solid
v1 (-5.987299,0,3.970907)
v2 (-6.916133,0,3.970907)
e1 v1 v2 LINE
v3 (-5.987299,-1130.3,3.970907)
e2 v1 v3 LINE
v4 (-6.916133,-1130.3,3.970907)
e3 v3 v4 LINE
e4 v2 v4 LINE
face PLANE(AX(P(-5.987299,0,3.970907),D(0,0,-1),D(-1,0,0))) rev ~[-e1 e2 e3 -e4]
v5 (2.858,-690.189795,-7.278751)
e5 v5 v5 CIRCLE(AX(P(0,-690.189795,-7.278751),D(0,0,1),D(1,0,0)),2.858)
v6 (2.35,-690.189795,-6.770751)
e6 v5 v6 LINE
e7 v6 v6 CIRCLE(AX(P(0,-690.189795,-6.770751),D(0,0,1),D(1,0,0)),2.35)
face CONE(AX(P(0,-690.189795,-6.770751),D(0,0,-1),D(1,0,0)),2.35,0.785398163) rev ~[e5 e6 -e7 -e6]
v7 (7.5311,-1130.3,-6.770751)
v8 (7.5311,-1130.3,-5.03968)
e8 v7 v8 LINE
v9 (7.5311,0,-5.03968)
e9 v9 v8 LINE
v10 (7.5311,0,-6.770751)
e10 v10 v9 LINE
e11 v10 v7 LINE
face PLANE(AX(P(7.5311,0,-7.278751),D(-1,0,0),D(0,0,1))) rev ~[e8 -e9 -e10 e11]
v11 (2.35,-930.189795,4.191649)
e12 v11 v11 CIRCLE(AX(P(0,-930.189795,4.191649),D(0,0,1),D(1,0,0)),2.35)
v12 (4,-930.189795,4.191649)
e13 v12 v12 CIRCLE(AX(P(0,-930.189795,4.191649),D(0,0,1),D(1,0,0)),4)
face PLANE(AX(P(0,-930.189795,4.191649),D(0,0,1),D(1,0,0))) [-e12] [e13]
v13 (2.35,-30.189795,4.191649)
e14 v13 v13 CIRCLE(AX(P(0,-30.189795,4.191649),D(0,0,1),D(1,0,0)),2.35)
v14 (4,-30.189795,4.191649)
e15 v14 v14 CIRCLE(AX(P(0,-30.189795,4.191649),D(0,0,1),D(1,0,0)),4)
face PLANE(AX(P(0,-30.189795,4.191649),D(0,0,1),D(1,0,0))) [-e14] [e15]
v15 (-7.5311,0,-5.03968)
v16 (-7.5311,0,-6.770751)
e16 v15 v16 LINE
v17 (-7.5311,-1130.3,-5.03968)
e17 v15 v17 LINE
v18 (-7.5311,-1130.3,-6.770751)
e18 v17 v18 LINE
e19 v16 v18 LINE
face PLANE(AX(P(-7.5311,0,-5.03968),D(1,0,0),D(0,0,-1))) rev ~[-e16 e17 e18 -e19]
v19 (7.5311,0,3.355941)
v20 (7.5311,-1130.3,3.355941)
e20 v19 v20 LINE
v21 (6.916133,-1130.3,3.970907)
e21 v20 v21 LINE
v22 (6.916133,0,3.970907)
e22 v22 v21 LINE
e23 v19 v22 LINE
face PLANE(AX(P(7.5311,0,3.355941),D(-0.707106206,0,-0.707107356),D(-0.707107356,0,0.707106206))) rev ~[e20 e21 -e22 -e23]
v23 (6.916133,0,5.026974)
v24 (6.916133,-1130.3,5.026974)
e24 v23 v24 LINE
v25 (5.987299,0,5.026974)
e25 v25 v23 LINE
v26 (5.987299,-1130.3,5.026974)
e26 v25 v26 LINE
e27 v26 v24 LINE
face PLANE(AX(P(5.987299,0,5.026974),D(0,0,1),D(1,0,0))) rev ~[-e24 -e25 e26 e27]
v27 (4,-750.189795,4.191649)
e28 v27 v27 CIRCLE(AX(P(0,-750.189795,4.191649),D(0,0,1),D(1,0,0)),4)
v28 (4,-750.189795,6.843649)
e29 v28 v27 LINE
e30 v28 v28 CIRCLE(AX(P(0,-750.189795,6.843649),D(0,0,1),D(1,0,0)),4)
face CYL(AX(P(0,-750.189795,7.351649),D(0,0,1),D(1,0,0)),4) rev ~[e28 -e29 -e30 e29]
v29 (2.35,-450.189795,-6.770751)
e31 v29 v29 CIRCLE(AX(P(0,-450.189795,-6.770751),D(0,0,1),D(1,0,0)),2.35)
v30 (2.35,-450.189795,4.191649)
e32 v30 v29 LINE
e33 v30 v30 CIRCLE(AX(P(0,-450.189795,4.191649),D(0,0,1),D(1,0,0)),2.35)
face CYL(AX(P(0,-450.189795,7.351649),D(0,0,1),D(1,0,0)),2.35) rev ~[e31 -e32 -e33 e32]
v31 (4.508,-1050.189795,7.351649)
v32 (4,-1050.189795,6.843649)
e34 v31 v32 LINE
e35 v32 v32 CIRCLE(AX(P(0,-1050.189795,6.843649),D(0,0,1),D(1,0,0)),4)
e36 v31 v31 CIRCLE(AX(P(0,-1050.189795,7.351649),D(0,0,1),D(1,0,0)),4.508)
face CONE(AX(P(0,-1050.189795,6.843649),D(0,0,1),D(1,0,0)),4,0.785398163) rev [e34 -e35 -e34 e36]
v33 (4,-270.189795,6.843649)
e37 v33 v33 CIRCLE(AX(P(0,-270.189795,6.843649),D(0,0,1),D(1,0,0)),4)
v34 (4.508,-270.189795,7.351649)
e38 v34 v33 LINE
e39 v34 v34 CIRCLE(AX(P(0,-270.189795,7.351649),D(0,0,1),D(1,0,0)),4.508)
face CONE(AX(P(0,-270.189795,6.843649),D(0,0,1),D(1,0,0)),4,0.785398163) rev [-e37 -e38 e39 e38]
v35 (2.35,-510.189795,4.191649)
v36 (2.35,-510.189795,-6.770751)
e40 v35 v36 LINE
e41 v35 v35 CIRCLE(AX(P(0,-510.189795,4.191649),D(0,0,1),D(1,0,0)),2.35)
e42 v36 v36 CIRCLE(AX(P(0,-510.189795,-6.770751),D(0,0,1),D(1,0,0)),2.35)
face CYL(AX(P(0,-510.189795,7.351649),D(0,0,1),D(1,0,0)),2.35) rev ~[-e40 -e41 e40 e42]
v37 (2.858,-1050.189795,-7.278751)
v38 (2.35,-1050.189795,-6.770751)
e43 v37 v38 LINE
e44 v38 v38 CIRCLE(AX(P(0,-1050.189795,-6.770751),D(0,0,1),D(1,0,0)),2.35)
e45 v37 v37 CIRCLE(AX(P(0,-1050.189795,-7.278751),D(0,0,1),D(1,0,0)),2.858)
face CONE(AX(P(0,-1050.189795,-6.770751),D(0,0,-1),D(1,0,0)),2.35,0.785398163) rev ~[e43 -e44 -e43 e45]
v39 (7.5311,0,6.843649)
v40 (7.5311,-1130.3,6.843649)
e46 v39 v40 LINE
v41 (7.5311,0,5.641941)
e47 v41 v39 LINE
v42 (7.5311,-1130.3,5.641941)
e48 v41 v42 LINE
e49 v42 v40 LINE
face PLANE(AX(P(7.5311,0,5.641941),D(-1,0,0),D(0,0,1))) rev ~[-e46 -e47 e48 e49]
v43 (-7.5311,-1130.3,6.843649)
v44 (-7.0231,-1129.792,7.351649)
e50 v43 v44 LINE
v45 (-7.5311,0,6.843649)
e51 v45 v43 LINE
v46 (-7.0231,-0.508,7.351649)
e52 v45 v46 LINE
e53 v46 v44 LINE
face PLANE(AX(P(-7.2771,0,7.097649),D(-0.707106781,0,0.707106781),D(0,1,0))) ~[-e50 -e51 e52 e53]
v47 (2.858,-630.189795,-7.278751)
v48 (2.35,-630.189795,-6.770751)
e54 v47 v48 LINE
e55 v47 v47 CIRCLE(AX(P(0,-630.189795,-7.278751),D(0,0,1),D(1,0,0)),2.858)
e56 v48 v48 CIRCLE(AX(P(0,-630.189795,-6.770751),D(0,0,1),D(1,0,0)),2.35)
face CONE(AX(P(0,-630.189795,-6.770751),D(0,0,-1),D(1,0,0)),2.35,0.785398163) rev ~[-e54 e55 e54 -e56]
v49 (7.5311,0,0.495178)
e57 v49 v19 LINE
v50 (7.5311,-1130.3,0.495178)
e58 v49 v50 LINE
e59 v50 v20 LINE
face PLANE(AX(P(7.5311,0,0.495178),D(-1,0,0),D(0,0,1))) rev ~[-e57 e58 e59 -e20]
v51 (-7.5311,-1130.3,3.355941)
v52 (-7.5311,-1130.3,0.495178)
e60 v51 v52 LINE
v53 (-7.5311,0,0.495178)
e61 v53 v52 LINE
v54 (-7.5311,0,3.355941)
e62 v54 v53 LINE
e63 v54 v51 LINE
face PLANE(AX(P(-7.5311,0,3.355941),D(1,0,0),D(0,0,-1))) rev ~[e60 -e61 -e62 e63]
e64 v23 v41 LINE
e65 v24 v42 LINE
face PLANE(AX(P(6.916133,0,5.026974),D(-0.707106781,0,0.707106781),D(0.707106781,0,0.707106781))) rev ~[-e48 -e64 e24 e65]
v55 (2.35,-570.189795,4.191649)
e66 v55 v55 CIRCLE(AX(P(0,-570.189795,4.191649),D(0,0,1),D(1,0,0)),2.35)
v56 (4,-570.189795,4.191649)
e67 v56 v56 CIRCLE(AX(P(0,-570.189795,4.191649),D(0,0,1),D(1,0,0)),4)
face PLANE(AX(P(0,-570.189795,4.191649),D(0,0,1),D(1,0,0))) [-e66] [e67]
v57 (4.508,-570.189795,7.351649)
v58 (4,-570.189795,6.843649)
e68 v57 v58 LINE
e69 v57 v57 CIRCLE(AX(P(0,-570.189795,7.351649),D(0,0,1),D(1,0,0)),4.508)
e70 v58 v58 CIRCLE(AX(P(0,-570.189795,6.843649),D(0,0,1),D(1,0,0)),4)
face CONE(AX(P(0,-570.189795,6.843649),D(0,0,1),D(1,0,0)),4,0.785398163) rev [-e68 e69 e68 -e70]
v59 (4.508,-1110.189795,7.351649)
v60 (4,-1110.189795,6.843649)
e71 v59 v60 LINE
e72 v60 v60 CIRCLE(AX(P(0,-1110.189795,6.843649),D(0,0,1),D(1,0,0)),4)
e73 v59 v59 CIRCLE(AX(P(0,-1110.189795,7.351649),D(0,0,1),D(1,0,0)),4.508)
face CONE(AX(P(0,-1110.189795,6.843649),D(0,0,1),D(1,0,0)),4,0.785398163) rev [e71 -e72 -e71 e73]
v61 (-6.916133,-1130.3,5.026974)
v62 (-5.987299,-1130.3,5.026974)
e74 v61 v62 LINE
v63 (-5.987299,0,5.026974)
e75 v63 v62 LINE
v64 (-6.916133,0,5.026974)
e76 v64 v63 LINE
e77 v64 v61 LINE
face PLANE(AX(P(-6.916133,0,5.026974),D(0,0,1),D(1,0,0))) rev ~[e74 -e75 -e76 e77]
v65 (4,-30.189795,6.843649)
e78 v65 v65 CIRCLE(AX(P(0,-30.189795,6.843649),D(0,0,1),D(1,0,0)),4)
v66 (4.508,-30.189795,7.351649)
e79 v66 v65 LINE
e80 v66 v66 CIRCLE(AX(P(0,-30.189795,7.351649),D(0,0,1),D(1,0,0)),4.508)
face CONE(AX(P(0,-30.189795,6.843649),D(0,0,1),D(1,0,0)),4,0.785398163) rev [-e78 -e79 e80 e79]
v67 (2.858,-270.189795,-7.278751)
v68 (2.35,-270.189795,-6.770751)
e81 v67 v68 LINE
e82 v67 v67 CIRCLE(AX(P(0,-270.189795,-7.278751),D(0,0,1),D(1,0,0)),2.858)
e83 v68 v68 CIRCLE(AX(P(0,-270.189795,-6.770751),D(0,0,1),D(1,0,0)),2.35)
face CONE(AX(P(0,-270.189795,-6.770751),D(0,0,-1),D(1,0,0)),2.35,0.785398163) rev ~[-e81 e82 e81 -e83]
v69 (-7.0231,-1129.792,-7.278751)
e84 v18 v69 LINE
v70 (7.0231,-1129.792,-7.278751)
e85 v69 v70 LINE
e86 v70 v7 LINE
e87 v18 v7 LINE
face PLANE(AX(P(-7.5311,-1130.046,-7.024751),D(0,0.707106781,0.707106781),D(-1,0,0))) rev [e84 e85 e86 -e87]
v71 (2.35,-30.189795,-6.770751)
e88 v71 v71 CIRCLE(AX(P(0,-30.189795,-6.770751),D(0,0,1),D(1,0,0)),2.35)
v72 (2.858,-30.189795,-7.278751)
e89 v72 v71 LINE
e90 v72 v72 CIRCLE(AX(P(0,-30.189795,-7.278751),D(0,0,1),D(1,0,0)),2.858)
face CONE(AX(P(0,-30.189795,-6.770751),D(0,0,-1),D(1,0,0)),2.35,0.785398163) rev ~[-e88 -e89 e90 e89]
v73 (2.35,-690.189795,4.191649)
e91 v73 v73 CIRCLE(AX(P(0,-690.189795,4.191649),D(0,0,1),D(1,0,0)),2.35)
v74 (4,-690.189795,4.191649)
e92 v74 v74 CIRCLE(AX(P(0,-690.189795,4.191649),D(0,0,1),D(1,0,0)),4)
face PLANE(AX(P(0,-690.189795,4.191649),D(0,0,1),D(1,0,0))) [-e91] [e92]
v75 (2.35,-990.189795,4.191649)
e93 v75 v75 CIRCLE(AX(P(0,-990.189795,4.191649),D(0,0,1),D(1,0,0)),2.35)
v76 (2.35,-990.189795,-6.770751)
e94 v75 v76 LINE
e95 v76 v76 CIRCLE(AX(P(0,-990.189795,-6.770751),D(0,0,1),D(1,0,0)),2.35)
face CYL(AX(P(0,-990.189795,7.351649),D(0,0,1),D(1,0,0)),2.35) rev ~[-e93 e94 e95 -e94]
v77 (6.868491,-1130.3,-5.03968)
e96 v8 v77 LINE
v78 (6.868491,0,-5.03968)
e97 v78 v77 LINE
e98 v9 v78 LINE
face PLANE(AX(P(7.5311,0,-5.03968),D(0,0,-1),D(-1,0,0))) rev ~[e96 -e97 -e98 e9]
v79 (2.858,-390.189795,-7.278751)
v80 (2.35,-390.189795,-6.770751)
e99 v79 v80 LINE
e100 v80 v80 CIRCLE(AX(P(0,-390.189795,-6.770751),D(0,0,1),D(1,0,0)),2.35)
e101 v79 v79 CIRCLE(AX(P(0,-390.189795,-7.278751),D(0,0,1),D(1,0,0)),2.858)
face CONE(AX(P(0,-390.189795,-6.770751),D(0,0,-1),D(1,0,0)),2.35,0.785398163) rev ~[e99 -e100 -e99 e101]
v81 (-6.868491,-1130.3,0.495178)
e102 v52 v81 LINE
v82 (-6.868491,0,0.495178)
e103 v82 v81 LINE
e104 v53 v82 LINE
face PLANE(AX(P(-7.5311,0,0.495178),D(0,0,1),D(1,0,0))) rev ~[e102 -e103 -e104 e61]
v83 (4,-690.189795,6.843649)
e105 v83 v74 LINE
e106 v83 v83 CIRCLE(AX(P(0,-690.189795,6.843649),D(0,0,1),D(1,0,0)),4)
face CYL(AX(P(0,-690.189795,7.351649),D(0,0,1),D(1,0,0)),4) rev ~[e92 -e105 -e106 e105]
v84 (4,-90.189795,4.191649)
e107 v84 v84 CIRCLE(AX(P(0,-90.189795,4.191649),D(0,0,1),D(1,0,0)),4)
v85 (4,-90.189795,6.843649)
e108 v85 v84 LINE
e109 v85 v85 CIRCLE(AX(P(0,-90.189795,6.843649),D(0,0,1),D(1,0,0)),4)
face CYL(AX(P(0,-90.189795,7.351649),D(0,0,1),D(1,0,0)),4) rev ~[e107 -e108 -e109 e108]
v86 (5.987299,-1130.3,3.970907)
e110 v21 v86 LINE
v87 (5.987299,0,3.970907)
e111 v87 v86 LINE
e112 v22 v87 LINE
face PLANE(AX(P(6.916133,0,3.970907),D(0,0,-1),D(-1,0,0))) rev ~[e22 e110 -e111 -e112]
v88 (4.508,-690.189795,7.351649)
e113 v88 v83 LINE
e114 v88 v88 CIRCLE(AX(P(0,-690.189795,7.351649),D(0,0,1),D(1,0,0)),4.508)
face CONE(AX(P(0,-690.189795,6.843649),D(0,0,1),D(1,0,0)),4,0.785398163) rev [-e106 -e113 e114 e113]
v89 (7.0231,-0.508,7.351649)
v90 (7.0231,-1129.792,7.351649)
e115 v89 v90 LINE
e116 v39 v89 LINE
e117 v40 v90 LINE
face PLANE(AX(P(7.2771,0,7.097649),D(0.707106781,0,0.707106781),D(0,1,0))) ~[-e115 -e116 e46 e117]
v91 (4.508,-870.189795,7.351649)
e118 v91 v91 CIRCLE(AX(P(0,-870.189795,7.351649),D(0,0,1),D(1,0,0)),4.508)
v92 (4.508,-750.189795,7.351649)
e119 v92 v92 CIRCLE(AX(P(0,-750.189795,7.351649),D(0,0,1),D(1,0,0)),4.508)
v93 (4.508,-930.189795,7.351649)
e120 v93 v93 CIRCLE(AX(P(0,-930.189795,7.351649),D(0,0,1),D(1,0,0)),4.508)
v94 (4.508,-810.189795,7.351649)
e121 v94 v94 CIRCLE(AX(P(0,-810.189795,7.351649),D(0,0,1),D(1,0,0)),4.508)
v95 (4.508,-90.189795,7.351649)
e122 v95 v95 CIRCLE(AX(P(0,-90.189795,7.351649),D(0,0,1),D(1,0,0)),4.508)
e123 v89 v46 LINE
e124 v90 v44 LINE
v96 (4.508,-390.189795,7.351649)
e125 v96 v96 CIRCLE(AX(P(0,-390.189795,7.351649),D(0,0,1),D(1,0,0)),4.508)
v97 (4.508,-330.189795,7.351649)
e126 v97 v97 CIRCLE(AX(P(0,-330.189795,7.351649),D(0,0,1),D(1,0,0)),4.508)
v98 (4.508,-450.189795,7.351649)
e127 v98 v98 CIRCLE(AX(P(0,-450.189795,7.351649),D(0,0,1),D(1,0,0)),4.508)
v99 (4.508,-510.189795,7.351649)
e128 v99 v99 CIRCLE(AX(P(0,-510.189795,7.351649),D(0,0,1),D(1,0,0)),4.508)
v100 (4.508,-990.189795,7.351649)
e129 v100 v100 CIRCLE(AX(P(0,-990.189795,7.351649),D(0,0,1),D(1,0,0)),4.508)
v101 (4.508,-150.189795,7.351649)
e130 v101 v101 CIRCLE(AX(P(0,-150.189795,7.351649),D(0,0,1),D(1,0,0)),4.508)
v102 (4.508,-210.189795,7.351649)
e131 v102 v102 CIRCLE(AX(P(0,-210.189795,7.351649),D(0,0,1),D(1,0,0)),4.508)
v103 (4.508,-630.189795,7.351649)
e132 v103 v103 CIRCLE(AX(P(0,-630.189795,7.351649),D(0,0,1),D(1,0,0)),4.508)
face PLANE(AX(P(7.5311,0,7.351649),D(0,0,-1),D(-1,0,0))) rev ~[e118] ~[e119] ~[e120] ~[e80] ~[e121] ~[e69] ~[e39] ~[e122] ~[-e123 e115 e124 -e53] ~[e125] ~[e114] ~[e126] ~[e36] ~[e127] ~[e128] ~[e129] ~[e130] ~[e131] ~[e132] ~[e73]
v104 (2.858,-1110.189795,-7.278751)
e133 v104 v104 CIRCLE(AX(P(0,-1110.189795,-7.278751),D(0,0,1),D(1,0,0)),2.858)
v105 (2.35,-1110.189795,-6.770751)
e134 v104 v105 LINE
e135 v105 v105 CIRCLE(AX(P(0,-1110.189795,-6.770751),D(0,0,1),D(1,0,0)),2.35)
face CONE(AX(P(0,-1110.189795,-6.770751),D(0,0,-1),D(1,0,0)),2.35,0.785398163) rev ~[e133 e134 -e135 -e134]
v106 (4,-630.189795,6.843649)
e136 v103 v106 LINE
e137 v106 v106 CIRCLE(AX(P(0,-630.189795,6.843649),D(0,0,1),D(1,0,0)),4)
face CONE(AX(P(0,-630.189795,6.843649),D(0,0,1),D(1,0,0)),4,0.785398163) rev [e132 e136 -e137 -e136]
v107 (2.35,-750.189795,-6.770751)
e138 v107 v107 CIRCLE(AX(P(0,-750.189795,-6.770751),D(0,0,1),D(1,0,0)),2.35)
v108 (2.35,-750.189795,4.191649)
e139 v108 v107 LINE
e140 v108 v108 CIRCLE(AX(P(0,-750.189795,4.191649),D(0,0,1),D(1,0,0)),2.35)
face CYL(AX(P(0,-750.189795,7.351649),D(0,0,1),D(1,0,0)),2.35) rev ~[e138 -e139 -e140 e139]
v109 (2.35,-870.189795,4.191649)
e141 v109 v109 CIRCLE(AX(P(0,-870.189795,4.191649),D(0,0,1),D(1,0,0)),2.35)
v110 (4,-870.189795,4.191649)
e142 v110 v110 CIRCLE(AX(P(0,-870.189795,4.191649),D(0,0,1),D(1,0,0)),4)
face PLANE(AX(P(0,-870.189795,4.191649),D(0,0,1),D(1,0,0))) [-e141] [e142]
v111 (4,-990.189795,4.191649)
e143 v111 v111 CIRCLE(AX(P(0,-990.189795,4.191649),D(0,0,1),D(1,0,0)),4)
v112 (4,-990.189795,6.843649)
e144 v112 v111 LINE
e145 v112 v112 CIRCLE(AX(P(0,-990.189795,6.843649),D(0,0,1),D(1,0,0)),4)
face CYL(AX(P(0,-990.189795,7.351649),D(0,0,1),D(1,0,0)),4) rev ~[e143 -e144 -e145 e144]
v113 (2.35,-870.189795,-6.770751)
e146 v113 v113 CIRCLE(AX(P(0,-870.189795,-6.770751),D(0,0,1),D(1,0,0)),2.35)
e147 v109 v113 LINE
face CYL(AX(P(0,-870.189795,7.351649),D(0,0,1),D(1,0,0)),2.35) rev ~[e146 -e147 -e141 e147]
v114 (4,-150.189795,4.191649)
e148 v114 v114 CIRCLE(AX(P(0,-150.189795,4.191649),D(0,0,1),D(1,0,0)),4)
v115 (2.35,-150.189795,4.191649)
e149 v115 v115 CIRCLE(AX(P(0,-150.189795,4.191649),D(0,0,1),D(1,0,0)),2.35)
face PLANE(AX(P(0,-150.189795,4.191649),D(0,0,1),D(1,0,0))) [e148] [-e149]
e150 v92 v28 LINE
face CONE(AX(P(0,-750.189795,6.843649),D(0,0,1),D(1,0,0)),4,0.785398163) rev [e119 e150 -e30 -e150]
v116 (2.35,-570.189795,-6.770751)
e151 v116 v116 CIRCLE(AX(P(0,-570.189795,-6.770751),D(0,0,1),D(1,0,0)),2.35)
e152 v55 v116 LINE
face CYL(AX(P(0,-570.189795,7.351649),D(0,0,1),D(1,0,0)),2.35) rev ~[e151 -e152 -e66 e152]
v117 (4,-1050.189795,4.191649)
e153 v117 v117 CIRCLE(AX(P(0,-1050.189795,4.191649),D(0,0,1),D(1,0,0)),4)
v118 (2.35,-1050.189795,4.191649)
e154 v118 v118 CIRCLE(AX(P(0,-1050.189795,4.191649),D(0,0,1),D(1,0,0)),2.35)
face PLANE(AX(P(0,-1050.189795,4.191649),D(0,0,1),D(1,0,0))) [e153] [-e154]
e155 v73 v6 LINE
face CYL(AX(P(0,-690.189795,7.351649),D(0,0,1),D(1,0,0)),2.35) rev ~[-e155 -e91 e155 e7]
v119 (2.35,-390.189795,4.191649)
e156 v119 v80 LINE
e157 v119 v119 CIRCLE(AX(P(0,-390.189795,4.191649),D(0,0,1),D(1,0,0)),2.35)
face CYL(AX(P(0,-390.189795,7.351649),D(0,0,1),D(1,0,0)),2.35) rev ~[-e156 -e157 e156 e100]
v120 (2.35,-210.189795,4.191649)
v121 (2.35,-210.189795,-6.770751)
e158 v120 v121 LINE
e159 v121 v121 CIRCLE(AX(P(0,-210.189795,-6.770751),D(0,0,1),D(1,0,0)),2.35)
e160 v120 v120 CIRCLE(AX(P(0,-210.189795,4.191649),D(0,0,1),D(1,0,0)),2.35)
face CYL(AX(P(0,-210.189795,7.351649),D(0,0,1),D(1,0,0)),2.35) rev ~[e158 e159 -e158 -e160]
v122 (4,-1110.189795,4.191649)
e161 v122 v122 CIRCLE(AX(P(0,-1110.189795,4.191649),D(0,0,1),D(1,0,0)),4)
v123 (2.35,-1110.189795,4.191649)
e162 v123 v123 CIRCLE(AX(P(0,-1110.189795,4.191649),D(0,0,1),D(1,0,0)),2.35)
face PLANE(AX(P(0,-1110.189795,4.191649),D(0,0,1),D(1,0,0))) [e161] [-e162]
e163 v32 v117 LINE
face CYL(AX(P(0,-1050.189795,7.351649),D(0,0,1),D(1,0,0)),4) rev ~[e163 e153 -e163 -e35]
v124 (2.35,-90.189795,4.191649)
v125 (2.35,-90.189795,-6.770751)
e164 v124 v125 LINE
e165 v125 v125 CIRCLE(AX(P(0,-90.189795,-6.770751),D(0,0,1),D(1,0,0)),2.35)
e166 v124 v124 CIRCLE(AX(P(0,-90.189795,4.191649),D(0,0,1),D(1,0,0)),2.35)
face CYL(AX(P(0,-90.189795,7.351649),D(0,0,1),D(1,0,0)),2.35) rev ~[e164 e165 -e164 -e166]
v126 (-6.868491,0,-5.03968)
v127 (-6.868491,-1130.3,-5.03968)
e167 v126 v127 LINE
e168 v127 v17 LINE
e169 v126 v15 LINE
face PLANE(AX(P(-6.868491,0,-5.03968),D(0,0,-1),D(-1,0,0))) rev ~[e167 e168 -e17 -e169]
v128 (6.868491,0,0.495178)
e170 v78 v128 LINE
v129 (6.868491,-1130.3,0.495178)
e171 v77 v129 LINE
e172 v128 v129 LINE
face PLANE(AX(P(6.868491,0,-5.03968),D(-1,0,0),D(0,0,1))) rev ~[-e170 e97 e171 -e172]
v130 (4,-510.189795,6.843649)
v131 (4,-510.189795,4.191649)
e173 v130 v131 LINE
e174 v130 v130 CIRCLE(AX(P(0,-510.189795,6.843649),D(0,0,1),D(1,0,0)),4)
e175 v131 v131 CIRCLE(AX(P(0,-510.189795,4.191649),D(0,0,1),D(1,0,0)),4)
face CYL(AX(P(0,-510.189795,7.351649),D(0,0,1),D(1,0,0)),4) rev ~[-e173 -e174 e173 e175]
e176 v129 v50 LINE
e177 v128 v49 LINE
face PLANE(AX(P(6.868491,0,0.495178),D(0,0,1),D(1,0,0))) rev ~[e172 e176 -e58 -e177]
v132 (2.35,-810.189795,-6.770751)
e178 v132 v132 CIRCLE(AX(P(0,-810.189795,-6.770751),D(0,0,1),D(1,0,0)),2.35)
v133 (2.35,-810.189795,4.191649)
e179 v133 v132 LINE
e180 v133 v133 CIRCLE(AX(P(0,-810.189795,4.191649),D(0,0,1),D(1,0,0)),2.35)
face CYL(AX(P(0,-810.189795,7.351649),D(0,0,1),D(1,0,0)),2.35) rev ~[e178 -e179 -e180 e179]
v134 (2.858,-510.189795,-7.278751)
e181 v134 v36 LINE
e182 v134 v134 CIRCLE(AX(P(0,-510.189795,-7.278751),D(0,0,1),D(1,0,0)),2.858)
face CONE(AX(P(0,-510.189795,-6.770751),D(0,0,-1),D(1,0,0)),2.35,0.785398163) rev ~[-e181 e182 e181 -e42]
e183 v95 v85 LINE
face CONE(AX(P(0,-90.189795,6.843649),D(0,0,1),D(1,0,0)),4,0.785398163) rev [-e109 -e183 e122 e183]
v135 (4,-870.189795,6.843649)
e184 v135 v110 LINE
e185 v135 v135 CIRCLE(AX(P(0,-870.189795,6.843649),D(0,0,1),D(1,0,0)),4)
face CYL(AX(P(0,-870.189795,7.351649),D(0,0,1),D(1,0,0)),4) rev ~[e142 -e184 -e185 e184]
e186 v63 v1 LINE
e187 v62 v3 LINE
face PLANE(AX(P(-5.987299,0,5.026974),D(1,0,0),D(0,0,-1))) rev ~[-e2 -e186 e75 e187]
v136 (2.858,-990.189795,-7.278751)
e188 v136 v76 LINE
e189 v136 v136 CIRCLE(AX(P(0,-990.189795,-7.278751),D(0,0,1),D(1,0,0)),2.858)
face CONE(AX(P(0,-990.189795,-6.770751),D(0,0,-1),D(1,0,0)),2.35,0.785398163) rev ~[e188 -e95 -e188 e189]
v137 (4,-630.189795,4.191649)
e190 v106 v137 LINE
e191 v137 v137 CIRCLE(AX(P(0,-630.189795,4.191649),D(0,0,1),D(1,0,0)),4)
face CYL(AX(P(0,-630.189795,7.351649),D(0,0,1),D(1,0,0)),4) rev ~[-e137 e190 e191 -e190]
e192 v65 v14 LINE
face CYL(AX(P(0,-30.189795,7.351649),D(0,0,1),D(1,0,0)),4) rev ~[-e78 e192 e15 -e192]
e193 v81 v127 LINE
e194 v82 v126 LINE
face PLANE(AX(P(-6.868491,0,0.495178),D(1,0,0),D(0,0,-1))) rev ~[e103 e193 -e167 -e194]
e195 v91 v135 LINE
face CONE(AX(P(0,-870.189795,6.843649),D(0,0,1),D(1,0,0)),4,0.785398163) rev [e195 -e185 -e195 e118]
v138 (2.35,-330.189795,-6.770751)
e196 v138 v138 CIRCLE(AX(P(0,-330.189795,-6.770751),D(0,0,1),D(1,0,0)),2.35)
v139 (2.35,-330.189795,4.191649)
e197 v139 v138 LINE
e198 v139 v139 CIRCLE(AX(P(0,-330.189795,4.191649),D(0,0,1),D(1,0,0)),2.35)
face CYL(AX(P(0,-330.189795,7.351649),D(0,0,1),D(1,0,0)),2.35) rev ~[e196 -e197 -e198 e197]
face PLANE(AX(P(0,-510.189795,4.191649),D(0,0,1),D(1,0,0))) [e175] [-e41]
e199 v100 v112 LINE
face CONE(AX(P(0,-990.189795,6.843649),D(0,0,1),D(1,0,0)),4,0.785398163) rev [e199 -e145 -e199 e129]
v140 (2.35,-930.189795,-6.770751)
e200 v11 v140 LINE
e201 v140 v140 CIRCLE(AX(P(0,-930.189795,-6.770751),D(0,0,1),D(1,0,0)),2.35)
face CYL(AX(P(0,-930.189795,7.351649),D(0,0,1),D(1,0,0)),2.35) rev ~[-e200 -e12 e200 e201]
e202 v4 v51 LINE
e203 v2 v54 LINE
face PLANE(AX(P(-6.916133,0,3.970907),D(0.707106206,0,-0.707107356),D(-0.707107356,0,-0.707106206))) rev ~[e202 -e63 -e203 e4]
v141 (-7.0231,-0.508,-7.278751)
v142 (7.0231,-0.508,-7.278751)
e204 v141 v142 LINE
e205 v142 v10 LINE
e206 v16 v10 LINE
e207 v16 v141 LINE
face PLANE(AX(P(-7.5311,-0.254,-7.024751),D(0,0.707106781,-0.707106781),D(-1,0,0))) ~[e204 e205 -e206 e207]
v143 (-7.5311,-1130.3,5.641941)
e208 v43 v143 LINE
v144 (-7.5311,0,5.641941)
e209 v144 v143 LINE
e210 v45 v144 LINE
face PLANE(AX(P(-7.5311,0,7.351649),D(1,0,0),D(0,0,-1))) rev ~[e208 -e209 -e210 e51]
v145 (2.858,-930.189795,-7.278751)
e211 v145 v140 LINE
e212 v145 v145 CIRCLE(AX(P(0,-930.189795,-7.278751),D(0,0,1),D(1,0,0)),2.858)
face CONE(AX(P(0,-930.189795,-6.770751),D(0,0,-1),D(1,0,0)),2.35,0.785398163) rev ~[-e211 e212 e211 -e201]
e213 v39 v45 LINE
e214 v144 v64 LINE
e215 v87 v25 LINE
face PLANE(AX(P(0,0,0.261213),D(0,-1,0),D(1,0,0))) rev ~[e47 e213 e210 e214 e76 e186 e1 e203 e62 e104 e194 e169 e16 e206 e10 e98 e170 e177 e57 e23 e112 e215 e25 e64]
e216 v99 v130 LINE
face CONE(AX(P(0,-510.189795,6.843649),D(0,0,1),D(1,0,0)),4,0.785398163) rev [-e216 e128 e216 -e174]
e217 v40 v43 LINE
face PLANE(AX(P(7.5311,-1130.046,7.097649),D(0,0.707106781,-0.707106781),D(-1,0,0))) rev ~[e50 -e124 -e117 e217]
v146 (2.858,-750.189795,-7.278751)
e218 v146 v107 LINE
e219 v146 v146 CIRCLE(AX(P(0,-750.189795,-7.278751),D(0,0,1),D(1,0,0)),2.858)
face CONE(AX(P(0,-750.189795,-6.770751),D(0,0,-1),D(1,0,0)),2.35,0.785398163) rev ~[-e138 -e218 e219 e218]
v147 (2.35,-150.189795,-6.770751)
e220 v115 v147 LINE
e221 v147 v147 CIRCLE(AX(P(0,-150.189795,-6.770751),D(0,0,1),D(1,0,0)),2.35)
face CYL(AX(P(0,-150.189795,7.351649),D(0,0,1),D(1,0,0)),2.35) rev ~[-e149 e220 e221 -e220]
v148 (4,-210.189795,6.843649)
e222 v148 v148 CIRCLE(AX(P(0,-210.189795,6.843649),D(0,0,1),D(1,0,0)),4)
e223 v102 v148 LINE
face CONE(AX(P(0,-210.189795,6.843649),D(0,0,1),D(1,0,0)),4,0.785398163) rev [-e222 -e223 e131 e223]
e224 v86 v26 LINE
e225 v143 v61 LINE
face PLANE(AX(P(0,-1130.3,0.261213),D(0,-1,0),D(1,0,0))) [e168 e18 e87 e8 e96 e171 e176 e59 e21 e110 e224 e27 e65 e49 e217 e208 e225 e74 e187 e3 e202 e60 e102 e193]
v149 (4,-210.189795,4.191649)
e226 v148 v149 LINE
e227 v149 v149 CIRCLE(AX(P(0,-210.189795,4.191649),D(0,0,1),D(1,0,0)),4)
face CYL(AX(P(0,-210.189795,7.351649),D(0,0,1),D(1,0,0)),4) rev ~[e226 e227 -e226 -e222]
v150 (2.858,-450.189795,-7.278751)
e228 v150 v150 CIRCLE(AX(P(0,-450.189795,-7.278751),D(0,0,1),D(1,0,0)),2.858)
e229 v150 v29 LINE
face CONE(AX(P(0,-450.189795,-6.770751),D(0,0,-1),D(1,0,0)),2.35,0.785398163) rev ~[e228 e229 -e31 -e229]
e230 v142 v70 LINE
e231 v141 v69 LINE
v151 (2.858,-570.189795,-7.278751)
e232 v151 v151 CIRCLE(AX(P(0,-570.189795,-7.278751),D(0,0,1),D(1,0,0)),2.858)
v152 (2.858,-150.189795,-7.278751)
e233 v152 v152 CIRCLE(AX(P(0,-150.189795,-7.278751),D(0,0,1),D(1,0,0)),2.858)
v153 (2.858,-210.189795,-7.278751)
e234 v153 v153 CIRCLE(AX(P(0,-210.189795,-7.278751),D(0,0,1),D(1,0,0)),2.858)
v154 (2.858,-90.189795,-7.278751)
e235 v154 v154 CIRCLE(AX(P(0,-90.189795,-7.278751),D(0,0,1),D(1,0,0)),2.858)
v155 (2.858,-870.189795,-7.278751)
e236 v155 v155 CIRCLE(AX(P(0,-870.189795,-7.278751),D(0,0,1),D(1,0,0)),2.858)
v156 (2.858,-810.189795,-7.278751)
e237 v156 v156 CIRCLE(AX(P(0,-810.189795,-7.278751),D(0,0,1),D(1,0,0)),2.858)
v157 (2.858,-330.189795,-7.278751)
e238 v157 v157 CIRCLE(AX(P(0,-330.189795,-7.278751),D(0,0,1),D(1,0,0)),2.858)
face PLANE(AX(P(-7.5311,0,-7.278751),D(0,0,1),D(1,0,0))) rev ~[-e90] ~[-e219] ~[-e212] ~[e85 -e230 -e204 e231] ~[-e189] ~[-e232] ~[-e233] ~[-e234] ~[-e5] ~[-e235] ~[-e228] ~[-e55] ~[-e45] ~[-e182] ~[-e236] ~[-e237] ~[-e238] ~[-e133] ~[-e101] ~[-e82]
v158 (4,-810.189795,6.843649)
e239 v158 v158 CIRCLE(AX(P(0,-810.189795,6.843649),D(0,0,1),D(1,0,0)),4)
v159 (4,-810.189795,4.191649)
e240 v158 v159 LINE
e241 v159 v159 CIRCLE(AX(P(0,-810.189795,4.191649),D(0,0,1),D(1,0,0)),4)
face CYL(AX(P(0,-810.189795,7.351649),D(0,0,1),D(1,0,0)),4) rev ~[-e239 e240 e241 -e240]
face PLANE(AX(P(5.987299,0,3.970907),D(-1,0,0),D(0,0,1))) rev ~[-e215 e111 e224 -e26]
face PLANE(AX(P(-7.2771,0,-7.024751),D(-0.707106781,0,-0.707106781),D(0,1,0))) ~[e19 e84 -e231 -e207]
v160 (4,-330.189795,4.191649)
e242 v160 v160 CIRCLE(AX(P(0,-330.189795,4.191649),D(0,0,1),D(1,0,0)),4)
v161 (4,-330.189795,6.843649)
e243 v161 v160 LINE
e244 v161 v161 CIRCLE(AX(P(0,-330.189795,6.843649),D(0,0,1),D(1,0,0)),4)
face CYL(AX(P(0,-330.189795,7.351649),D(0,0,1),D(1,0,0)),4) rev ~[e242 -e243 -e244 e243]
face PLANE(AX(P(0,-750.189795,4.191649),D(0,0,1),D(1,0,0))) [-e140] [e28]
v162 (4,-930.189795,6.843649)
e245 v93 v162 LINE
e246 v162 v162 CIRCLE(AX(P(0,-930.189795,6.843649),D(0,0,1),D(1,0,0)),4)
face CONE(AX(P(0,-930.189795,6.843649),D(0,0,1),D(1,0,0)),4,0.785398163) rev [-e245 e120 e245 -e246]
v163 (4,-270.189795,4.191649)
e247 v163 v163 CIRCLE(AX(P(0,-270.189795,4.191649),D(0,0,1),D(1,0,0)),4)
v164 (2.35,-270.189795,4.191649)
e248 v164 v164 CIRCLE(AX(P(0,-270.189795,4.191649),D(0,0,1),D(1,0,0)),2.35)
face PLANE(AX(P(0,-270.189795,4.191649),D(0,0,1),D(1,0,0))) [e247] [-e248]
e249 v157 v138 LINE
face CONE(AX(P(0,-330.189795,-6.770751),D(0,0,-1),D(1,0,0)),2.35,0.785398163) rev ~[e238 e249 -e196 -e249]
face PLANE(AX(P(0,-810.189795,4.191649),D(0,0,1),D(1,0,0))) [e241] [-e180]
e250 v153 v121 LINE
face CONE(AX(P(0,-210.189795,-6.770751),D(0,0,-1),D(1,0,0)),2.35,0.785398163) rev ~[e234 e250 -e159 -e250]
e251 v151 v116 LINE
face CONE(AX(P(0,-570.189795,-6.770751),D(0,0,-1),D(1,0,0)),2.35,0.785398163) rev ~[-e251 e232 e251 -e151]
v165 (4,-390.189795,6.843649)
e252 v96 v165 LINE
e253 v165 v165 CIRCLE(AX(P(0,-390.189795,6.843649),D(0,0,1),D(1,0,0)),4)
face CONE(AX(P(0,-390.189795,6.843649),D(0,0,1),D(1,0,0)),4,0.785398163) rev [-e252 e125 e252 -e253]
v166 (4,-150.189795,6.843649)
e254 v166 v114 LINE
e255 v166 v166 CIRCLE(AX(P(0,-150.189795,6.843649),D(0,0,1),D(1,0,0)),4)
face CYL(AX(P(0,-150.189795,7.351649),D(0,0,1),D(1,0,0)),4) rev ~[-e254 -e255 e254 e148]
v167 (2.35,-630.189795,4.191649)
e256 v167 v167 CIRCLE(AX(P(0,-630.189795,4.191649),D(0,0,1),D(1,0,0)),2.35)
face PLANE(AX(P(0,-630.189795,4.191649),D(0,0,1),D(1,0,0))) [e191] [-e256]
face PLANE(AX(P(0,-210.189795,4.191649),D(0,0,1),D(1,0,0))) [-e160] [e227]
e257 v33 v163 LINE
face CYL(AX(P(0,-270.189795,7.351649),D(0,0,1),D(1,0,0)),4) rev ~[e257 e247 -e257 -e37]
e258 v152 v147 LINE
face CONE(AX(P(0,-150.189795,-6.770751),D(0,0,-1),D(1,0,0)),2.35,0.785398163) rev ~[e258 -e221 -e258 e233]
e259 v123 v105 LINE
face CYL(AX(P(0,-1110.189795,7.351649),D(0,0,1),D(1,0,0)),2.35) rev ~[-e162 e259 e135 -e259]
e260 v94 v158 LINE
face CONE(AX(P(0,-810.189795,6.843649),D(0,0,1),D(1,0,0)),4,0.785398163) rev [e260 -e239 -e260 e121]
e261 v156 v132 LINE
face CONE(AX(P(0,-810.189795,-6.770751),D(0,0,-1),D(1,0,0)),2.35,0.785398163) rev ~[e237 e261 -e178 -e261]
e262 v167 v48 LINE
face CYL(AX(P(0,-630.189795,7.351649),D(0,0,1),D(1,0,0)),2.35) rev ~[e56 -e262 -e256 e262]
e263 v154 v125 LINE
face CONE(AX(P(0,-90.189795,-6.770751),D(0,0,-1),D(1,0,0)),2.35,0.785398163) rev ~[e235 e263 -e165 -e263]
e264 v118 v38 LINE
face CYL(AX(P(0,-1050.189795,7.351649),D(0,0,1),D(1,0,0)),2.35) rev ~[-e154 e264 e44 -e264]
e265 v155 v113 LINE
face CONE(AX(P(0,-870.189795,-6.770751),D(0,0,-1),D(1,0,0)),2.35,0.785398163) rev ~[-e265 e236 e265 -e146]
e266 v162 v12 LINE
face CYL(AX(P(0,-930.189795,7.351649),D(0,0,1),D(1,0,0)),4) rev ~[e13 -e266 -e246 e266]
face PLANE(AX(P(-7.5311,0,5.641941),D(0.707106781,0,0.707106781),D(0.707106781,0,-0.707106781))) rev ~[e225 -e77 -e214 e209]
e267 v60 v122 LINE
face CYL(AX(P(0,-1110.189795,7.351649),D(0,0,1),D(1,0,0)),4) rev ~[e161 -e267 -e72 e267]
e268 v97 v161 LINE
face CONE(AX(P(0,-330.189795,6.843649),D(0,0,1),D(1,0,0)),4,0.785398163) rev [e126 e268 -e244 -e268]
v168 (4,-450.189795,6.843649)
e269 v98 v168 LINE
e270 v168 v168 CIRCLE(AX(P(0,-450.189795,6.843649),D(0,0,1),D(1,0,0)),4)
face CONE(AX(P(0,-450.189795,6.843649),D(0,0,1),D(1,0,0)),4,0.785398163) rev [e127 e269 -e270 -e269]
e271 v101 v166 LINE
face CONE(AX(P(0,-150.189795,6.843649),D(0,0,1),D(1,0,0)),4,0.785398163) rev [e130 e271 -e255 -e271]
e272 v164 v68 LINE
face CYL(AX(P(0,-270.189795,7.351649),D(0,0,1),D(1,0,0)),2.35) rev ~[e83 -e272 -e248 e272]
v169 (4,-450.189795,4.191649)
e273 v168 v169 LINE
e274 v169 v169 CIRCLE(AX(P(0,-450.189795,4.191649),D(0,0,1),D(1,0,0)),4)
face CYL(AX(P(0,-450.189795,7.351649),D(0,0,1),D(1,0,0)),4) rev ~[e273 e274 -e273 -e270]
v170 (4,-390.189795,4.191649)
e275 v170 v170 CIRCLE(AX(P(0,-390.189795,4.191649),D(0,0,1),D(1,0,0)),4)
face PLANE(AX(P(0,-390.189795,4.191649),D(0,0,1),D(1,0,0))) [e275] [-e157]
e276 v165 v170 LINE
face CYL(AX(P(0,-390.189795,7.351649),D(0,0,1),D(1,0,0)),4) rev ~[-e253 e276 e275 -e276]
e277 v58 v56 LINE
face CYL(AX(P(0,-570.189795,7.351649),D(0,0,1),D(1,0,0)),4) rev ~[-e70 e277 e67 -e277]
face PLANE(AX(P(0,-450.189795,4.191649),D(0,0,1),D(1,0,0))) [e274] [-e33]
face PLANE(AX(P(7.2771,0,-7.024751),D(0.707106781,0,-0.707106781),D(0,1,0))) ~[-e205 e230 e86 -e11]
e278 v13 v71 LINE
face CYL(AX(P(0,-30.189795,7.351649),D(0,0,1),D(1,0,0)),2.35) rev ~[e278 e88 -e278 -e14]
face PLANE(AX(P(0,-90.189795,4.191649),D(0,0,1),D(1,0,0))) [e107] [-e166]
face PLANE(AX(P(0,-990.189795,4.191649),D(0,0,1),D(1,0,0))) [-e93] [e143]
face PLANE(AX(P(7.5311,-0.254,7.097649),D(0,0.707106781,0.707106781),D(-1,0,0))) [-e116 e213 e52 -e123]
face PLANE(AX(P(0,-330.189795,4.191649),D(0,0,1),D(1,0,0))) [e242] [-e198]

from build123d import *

# Parameters (mm, degrees)
F1_DEPTH = 1130.3
F2_R     = 2.35
F3_DEPTH = 25.4
F2_R_2   = 4
F4_DEPTH = 3.16
F5_SIZE  = 0.508


with BuildPart() as f1:
    # F0 (on Front) → F1 (new body)
    with BuildSketch(Plane.XZ):
        Polygon((-7.5311, -5.03968), (-7.5311, -7.278751), (7.5311, -7.278751), (7.5311, -5.03968), (6.868491, -5.03968), (6.868491, 0.495178), (7.5311, 0.495178), (7.5311, 3.355941), (6.916133, 3.970907), (5.987299, 3.970907), (5.987299, 5.026974), (6.916133, 5.026974), (7.5311, 5.641941), (7.5311, 7.351649), (-7.5311, 7.351649), (-7.5311, 5.641941), (-6.916133, 5.026974), (-5.987299, 5.026974), (-5.987299, 3.970907), (-6.916133, 3.970907), (-7.5311, 3.355941), (-7.5311, 0.495178), (-6.868491, 0.495178), (-6.868491, -5.03968), align=None)
    extrude(amount=F1_DEPTH)

    # F2 (on face) → F3 (cut)
    with BuildSketch(Plane.XY.offset(7.351649)):
        with Locations((0, -30.189795)):
            Circle(F2_R)
        with Locations((0, -90.189795)):
            Circle(F2_R)
        with Locations((0, -150.189795)):
            Circle(F2_R)
        with Locations((0, -210.189795)):
            Circle(F2_R)
        with Locations((0, -270.189795)):
            Circle(F2_R)
        with Locations((0, -330.189795)):
            Circle(F2_R)
        with Locations((0, -390.189795)):
            Circle(F2_R)
        with Locations((0, -450.189795)):
            Circle(F2_R)
        with Locations((0, -510.189795)):
            Circle(F2_R)
        with Locations((0, -570.189795)):
            Circle(F2_R)
        with Locations((0, -630.189795)):
            Circle(F2_R)
        with Locations((0, -690.189795)):
            Circle(F2_R)
        with Locations((0, -750.189795)):
            Circle(F2_R)
        with Locations((0, -810.189795)):
            Circle(F2_R)
        with Locations((0, -870.189795)):
            Circle(F2_R)
        with Locations((0, -930.189795)):
            Circle(F2_R)
        with Locations((0, -990.189795)):
            Circle(F2_R)
        with Locations((0, -1050.189795)):
            Circle(F2_R)
        with Locations((0, -1110.189795)):
            Circle(F2_R)
    extrude(amount=-F3_DEPTH, mode=Mode.SUBTRACT)

    # F2 (on face) → F4 (cut)
    with BuildSketch(Plane.XY.offset(7.351649)):
        with Locations((0, -1110.189795)):
            Circle(F2_R_2)
        with Locations((0, -1110.189795)):
            Circle(F2_R, mode=Mode.SUBTRACT)
        with Locations((0, -1050.189795)):
            Circle(F2_R_2)
        with Locations((0, -1050.189795)):
            Circle(F2_R, mode=Mode.SUBTRACT)
        with Locations((0, -990.189795)):
            Circle(F2_R_2)
        with Locations((0, -990.189795)):
            Circle(F2_R, mode=Mode.SUBTRACT)
        with Locations((0, -930.189795)):
            Circle(F2_R_2)
        with Locations((0, -930.189795)):
            Circle(F2_R, mode=Mode.SUBTRACT)
        with Locations((0, -870.189795)):
            Circle(F2_R_2)
        with Locations((0, -870.189795)):
            Circle(F2_R, mode=Mode.SUBTRACT)
        with Locations((0, -810.189795)):
            Circle(F2_R_2)
        with Locations((0, -810.189795)):
            Circle(F2_R, mode=Mode.SUBTRACT)
        with Locations((0, -750.189795)):
            Circle(F2_R_2)
        with Locations((0, -750.189795)):
            Circle(F2_R, mode=Mode.SUBTRACT)
        with Locations((0, -690.189795)):
            Circle(F2_R_2)
        with Locations((0, -690.189795)):
            Circle(F2_R, mode=Mode.SUBTRACT)
        with Locations((0, -630.189795)):
            Circle(F2_R_2)
        with Locations((0, -630.189795)):
            Circle(F2_R, mode=Mode.SUBTRACT)
        with Locations((0, -570.189795)):
            Circle(F2_R_2)
        with Locations((0, -570.189795)):
            Circle(F2_R, mode=Mode.SUBTRACT)
        with Locations((0, -510.189795)):
            Circle(F2_R_2)
        with Locations((0, -510.189795)):
            Circle(F2_R, mode=Mode.SUBTRACT)
        with Locations((0, -450.189795)):
            Circle(F2_R_2)
        with Locations((0, -450.189795)):
            Circle(F2_R, mode=Mode.SUBTRACT)
        with Locations((0, -390.189795)):
            Circle(F2_R_2)
        with Locations((0, -390.189795)):
            Circle(F2_R, mode=Mode.SUBTRACT)
        with Locations((0, -330.189795)):
            Circle(F2_R_2)
        with Locations((0, -330.189795)):
            Circle(F2_R, mode=Mode.SUBTRACT)
        with Locations((0, -270.189795)):
            Circle(F2_R_2)
        with Locations((0, -270.189795)):
            Circle(F2_R, mode=Mode.SUBTRACT)
        with Locations((0, -210.189795)):
            Circle(F2_R_2)
        with Locations((0, -210.189795)):
            Circle(F2_R, mode=Mode.SUBTRACT)
        with Locations((0, -150.189795)):
            Circle(F2_R_2)
        with Locations((0, -150.189795)):
            Circle(F2_R, mode=Mode.SUBTRACT)
        with Locations((0, -90.189795)):
            Circle(F2_R_2)
        with Locations((0, -90.189795)):
            Circle(F2_R, mode=Mode.SUBTRACT)
        with Locations((0, -30.189795)):
            Circle(F2_R_2)
        with Locations((0, -30.189795)):
            Circle(F2_R, mode=Mode.SUBTRACT)
    extrude(amount=-F4_DEPTH, mode=Mode.SUBTRACT)

    # F5
    f5_edges = [f1.edges().sort_by_distance(p)[0] for p in [
        (7.5311, -565.15, 7.351649),
        (0, 0, 7.351649),
        (0, -1130.3, 7.351649),
        (-7.5311, -565.15, 7.351649),
        (-4, -1110.189795, 7.351649),
        (-4, -1050.189795, 7.351649),
        (-4, -990.189795, 7.351649),
        (-4, -930.189795, 7.351649),
        (-4, -870.189795, 7.351649),
        (-4, -810.189795, 7.351649),
        (-4, -750.189795, 7.351649),
        (-4, -690.189795, 7.351649),
        (-4, -630.189795, 7.351649),
        (-4, -570.189795, 7.351649),
        (-4, -510.189795, 7.351649),
        (-4, -450.189795, 7.351649),
        (-4, -390.189795, 7.351649),
        (-4, -330.189795, 7.351649),
        (-4, -270.189795, 7.351649),
        (-4, -210.189795, 7.351649),
        (-4, -150.189795, 7.351649),
        (-4, -90.189795, 7.351649),
        (-4, -30.189795, 7.351649),
        (-7.5311, -565.15, -7.278751),
        (0, 0, -7.278751),
        (0, -1130.3, -7.278751),
        (7.5311, -565.15, -7.278751),
        (-2.35, -1110.189795, -7.278751),
        (-2.35, -1050.189795, -7.278751),
        (-2.35, -990.189795, -7.278751),
        (-2.35, -930.189795, -7.278751),
        (-2.35, -870.189795, -7.278751),
        (-2.35, -810.189795, -7.278751),
        (-2.35, -750.189795, -7.278751),
        (-2.35, -690.189795, -7.278751),
        (-2.35, -630.189795, -7.278751),
        (-2.35, -570.189795, -7.278751),
        (-2.35, -510.189795, -7.278751),
        (-2.35, -450.189795, -7.278751),
        (-2.35, -390.189795, -7.278751),
        (-2.35, -330.189795, -7.278751),
        (-2.35, -270.189795, -7.278751),
        (-2.35, -210.189795, -7.278751),
        (-2.35, -150.189795, -7.278751),
        (-2.35, -90.189795, -7.278751),
        (-2.35, -30.189795, -7.278751),
    ]]
    chamfer(f5_edges, length=F5_SIZE)


solid = f1.part
